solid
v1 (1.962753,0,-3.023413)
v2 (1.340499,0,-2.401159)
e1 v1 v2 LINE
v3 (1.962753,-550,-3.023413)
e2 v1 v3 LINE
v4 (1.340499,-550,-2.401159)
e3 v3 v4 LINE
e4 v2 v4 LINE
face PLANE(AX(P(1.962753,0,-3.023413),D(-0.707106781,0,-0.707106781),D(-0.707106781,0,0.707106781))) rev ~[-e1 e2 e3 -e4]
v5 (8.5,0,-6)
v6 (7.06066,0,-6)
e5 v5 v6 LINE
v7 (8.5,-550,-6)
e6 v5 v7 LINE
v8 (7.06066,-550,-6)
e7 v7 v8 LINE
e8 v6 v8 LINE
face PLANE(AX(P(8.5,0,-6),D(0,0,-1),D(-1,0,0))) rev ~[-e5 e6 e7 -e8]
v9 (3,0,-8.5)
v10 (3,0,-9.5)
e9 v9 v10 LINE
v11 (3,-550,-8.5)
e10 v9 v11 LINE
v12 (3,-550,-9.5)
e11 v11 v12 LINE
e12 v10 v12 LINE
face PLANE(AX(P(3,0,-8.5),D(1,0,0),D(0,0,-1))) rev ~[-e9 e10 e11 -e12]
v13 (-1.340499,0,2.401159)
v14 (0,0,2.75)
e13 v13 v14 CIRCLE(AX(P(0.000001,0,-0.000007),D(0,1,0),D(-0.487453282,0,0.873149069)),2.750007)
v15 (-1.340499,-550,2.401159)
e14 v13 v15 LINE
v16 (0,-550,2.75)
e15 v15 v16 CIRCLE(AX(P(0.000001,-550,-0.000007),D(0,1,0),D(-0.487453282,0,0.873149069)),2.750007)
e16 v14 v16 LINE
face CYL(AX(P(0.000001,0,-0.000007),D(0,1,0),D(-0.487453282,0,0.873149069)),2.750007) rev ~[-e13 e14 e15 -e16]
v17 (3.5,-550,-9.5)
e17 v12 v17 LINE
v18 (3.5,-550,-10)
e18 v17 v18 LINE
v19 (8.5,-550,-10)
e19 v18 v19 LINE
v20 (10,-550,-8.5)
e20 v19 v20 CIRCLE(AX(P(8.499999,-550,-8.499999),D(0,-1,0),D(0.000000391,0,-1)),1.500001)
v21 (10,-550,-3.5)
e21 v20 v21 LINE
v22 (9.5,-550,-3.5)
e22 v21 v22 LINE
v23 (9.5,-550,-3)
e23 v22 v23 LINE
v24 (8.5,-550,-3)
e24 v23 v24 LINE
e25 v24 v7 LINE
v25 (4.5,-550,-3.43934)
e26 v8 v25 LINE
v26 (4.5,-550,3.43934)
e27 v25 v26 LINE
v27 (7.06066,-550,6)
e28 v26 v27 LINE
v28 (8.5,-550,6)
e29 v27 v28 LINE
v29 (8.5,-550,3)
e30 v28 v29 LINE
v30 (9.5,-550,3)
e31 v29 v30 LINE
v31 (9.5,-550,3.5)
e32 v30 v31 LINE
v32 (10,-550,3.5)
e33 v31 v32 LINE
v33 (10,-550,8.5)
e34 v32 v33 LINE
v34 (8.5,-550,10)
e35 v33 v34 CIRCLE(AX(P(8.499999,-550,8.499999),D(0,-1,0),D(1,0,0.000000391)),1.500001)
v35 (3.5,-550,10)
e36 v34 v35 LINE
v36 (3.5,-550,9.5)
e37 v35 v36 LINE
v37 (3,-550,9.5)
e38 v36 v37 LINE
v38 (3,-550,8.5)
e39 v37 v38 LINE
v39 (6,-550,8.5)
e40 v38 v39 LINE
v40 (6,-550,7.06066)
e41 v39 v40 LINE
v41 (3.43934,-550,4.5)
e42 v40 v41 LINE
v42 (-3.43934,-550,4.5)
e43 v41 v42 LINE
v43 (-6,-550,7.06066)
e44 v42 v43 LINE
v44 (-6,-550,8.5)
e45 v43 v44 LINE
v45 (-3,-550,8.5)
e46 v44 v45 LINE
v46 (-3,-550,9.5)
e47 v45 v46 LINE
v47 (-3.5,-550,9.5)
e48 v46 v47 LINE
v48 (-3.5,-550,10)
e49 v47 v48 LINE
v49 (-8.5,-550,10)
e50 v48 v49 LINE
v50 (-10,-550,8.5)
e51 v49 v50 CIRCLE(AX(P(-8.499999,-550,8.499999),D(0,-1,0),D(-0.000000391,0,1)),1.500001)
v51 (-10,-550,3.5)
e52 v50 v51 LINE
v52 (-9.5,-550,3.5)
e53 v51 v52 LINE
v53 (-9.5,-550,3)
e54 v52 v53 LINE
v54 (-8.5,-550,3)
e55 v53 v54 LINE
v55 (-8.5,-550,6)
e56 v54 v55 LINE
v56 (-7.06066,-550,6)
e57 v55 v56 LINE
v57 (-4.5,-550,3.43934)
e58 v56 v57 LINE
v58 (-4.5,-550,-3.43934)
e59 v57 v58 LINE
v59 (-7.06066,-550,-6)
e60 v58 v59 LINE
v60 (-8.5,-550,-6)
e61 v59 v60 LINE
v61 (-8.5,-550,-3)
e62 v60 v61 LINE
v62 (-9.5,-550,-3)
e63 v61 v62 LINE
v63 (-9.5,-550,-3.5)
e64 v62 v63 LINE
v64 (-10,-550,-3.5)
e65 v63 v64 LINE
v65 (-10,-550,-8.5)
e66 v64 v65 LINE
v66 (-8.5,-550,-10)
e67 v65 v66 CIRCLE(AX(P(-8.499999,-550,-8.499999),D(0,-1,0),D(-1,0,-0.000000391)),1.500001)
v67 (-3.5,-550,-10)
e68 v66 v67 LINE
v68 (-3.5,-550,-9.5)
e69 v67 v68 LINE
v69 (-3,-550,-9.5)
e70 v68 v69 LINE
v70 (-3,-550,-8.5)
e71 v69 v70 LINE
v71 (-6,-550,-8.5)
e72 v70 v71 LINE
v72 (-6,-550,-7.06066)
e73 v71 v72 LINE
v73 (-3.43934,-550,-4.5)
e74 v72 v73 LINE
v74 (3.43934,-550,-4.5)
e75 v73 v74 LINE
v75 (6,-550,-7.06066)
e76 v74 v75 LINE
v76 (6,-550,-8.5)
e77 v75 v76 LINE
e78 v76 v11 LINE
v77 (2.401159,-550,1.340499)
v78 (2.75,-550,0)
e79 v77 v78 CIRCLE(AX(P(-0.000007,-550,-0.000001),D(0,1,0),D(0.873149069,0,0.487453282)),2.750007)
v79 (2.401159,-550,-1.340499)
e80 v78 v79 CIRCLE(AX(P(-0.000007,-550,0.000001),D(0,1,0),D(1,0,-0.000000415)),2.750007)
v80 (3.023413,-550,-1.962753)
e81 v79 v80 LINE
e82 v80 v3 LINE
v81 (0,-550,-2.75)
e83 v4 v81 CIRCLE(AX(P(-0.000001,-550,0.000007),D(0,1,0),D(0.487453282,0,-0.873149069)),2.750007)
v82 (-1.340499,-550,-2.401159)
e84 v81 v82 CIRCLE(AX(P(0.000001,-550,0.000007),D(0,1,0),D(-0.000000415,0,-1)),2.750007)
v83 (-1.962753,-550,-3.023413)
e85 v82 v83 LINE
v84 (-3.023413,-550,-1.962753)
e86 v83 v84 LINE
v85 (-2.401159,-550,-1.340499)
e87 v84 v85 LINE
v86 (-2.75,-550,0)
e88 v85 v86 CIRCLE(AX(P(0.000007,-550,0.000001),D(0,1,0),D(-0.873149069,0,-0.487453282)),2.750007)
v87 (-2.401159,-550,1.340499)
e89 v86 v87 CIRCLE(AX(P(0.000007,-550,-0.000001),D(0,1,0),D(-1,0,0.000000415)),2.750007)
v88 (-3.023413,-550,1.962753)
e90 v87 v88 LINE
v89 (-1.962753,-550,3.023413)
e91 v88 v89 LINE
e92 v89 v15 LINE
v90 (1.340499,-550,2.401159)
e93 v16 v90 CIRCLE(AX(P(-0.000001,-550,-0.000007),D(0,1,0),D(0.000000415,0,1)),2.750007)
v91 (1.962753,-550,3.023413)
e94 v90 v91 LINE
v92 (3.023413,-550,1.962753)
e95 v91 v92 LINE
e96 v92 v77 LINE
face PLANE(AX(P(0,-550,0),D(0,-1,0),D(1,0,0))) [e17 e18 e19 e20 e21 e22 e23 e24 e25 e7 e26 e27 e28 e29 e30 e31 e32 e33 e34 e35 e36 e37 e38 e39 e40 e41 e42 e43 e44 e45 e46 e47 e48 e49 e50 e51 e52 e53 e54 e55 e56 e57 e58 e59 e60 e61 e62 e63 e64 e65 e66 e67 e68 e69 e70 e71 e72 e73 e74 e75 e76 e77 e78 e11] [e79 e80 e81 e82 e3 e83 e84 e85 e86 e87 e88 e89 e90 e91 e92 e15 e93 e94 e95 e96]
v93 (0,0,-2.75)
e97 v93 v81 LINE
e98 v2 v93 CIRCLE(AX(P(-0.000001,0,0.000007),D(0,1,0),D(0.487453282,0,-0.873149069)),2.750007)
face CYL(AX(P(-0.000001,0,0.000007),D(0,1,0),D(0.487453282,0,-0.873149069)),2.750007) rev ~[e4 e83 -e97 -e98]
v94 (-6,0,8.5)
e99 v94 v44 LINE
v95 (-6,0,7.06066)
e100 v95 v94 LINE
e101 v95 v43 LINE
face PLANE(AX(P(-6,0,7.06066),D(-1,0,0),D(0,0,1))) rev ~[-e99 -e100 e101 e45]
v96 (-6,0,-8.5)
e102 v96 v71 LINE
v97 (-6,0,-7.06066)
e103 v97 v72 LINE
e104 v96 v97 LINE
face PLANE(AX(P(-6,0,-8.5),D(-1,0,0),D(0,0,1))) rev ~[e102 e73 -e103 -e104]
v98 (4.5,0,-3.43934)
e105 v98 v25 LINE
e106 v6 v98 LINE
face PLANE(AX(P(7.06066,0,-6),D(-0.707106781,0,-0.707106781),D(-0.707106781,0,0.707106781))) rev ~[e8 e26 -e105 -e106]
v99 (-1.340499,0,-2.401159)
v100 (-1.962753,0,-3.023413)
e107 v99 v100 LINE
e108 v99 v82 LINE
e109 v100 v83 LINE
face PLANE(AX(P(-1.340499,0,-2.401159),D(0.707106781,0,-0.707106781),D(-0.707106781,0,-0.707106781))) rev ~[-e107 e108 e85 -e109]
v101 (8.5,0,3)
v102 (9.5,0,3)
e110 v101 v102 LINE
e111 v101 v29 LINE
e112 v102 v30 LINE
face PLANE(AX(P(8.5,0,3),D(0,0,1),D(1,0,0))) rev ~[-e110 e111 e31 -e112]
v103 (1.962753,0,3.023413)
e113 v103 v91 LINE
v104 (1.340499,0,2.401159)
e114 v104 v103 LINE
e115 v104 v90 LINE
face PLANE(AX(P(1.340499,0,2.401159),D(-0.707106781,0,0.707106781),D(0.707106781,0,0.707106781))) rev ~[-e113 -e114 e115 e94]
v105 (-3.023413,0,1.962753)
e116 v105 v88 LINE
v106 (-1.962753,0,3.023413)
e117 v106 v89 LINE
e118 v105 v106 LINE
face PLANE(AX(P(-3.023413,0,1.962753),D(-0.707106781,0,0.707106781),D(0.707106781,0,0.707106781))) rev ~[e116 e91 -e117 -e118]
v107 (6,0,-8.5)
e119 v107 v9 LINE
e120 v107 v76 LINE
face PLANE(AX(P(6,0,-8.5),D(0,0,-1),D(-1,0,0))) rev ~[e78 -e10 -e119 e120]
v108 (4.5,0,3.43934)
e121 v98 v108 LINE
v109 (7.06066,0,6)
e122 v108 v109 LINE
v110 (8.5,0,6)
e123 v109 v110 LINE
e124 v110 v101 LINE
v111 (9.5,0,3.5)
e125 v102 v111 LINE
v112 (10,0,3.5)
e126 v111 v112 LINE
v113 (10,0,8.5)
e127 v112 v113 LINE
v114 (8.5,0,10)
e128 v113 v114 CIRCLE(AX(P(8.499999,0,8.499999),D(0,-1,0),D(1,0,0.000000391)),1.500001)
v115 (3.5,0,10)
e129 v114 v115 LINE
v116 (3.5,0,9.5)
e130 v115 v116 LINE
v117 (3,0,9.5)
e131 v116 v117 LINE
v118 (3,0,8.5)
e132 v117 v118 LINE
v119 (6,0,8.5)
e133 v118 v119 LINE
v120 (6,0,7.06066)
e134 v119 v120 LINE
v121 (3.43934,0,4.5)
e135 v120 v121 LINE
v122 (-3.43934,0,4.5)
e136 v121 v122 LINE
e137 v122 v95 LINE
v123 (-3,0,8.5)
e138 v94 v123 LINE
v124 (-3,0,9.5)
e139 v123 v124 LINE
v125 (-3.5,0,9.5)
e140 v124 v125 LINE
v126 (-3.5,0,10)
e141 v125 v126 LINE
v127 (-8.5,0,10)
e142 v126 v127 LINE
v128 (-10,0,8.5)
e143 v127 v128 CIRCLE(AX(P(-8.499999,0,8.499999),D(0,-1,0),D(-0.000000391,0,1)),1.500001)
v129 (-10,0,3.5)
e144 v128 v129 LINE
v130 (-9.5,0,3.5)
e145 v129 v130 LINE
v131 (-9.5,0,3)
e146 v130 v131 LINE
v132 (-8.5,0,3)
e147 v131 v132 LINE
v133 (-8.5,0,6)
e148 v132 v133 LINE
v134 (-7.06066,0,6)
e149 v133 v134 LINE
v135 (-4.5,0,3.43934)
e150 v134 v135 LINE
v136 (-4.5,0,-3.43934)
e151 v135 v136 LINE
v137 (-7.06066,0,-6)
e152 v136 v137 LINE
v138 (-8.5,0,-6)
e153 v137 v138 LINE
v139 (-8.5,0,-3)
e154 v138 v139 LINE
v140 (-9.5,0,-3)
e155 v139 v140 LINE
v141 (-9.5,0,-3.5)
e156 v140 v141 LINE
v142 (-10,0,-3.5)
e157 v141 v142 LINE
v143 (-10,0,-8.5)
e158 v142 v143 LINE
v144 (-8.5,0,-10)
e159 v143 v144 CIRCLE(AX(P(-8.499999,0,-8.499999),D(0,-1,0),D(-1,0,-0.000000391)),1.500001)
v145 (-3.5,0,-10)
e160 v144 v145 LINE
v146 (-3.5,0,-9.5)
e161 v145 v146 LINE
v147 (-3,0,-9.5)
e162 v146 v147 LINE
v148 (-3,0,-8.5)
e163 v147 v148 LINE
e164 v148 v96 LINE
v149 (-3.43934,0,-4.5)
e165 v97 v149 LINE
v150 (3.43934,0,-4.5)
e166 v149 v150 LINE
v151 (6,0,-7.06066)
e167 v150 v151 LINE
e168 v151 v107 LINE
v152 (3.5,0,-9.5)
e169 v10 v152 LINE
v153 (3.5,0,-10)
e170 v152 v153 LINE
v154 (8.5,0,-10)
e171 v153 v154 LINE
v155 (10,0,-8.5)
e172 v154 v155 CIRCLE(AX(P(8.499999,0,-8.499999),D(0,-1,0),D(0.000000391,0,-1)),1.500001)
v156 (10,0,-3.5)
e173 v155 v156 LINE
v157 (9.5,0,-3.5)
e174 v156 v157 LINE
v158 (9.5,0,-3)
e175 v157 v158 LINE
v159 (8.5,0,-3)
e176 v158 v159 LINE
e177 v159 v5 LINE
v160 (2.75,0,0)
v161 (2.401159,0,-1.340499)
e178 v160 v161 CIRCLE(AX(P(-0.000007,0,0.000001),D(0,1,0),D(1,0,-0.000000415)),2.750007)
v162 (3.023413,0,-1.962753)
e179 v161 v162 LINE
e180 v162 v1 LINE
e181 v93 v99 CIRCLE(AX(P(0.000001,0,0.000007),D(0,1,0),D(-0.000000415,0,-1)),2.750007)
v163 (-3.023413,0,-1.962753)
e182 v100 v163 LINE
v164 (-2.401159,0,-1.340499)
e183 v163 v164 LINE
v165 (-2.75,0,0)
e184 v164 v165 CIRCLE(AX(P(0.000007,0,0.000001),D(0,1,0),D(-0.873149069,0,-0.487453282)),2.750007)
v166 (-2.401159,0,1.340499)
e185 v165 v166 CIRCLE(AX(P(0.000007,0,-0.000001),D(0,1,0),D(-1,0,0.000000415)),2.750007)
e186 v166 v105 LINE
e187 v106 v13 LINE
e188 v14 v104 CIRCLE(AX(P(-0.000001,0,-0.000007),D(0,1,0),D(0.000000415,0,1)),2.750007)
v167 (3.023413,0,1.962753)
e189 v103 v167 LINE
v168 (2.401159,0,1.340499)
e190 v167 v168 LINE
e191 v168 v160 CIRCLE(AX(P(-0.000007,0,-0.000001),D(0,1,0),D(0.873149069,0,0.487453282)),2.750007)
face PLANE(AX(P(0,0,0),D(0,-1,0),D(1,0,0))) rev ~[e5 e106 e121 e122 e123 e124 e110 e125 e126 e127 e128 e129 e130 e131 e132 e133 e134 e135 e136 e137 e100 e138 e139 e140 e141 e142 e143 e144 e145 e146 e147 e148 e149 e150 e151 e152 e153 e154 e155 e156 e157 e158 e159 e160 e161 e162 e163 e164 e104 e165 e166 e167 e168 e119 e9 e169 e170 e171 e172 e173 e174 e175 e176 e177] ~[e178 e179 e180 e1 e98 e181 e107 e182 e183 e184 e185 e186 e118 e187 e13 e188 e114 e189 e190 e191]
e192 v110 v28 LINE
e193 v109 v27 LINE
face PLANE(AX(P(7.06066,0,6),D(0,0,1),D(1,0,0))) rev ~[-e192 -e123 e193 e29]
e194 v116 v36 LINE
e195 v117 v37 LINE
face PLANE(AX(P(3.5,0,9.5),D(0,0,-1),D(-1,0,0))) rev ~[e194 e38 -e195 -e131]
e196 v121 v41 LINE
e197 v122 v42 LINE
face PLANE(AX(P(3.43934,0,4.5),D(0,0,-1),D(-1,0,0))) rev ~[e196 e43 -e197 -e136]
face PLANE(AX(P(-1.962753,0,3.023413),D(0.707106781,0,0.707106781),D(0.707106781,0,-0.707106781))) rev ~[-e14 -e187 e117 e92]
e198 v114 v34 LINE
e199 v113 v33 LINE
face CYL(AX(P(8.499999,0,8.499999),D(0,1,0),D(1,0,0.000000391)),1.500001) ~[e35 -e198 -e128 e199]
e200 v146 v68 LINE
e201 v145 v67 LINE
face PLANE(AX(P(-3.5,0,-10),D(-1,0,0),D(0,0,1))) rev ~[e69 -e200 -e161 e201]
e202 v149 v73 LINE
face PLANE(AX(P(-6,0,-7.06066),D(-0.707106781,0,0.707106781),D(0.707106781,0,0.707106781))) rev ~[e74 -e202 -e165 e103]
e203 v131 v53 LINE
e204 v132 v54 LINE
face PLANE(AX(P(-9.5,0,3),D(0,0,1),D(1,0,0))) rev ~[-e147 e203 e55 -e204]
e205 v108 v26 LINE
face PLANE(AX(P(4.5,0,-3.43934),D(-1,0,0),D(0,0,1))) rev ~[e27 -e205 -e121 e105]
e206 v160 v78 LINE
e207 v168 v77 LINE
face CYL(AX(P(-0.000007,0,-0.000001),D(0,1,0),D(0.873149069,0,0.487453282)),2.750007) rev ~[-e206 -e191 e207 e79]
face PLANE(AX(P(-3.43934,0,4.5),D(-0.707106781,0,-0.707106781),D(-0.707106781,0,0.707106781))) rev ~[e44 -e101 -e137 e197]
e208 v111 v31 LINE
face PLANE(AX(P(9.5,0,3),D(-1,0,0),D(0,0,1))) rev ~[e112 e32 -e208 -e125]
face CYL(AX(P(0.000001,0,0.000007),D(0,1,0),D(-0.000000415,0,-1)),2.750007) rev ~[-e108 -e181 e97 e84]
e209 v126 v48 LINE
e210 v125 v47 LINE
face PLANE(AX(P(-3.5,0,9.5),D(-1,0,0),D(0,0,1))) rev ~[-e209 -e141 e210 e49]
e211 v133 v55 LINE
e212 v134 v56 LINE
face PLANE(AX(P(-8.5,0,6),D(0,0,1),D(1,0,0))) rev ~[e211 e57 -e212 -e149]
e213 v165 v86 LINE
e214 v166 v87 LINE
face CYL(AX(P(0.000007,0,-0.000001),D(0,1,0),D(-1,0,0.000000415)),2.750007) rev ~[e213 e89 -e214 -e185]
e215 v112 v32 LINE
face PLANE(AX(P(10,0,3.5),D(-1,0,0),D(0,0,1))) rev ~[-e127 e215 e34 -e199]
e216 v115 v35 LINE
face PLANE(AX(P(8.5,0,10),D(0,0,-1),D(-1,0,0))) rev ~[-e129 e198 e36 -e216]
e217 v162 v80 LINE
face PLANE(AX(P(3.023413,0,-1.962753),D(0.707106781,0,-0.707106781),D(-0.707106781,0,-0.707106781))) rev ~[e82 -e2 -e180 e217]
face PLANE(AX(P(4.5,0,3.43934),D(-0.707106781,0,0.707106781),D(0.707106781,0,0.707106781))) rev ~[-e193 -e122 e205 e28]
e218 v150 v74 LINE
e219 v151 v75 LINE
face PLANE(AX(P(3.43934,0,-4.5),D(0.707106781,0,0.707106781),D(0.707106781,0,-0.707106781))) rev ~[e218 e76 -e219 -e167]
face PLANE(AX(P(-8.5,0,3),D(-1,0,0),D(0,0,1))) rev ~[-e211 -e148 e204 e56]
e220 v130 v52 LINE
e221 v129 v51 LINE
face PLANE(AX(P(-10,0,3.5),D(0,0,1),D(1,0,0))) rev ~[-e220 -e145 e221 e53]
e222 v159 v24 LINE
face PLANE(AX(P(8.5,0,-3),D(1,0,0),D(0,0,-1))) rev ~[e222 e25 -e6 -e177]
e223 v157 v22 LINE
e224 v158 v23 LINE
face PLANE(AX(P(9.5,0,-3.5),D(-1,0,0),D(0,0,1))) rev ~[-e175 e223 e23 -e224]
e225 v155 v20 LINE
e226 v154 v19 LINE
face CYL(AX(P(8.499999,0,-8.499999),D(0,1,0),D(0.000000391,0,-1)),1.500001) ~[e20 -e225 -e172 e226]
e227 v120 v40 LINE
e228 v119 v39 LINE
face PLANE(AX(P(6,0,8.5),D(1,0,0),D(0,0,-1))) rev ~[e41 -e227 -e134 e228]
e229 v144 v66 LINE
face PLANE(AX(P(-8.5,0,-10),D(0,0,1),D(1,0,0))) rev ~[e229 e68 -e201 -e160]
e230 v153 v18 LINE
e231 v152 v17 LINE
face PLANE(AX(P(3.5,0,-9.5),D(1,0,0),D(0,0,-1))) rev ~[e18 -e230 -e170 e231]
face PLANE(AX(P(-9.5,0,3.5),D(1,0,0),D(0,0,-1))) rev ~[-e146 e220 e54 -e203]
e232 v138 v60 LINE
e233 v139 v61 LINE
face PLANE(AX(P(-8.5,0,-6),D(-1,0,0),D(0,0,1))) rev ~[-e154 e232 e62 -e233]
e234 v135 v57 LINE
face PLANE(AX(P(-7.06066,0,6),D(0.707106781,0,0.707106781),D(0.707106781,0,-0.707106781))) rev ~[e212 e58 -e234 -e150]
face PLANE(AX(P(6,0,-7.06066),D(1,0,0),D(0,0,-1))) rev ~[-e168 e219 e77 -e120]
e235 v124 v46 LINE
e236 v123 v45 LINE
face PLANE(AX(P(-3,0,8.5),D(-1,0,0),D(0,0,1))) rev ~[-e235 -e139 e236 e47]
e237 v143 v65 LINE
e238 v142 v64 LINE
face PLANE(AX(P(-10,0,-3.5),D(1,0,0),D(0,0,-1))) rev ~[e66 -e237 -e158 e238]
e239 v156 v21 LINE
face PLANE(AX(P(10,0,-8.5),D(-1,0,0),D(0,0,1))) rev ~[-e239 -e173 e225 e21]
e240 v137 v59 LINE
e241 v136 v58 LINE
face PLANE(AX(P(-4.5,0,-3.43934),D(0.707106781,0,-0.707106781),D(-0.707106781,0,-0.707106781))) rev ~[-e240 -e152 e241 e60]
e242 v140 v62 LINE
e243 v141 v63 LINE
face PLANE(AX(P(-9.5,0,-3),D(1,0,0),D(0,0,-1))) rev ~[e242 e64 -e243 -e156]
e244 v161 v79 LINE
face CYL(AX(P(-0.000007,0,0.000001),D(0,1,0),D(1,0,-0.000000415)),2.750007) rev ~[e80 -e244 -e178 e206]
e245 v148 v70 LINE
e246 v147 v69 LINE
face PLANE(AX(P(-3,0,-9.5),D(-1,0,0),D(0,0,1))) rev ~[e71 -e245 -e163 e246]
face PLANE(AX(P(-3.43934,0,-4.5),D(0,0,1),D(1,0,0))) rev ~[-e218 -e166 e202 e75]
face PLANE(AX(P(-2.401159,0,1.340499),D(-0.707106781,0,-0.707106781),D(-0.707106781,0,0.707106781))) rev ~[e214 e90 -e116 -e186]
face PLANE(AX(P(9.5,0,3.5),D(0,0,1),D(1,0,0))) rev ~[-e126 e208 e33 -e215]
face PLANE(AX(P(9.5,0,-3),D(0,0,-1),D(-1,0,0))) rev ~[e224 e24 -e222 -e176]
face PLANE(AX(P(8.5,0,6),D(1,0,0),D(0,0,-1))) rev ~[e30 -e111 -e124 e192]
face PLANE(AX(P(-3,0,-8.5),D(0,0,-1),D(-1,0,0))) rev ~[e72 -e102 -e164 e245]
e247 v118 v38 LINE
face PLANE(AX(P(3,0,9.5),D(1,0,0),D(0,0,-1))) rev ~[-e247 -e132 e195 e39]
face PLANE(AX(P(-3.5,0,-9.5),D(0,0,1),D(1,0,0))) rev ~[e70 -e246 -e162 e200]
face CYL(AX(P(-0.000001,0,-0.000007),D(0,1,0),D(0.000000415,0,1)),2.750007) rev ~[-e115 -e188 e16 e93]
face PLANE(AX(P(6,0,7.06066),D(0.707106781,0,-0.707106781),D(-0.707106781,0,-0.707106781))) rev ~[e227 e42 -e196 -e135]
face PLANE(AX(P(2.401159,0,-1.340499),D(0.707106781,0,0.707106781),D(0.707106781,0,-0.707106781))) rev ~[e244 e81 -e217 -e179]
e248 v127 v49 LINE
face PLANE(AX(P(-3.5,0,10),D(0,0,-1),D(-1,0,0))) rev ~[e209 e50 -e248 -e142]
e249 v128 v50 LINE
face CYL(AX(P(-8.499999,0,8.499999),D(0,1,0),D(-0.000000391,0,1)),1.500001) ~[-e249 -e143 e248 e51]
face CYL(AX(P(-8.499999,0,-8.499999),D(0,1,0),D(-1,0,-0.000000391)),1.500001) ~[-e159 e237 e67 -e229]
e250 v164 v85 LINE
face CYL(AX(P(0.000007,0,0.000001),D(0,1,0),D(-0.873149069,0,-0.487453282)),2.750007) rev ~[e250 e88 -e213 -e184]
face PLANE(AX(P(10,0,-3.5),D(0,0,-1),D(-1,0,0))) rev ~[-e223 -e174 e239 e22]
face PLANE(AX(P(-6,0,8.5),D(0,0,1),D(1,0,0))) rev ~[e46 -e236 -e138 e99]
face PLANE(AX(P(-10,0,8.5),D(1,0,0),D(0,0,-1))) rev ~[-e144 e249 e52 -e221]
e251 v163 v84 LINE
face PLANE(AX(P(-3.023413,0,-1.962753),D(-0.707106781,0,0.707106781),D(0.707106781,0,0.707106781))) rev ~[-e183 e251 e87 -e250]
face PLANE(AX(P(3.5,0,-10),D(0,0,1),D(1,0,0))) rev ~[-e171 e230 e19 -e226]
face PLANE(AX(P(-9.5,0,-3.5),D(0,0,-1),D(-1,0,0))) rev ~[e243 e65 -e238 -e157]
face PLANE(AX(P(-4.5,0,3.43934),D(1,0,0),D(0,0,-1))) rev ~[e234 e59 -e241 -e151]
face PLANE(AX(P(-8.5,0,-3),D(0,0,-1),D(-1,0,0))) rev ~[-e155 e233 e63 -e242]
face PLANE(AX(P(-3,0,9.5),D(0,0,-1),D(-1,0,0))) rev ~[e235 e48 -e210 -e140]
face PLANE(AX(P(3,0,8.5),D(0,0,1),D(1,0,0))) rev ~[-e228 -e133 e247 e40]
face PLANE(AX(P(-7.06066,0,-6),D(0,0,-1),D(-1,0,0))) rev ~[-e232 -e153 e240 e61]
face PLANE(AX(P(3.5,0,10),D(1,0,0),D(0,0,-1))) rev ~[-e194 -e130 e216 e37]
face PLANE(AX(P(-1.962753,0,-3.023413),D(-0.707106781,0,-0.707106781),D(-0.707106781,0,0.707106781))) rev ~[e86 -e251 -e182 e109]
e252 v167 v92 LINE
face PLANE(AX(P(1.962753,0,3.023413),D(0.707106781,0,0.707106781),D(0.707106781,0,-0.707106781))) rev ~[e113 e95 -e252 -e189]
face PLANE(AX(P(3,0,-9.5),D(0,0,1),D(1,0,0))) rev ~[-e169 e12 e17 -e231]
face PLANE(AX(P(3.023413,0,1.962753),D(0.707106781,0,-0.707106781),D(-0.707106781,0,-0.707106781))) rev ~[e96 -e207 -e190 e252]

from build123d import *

# Parameters (mm, degrees)
F1_DEPTH = 550


with BuildPart() as f1:
    # F0 (on Front) → F1 (new body)
    with BuildSketch(Plane.XZ):
        with BuildLine():
            Line((3.43934, 4.5), (0, 4.5))
            Line((0, 4.5), (-3.43934, 4.5))
            Line((-3.43934, 4.5), (-6, 7.06066))
            Line((-6, 7.06066), (-6, 8.5))
            Line((-6, 8.5), (-3, 8.5))
            Line((-3, 8.5), (-3, 9.5))
            Line((-3, 9.5), (-3.5, 9.5))
            Line((-3.5, 9.5), (-3.5, 10))
            Line((-3.5, 10), (-8.5, 10))
            ThreePointArc((-8.5, 10), (-9.56066, 9.56066), (-10, 8.5))
            Line((-10, 8.5), (-10, 3.5))
            Line((-10, 3.5), (-9.5, 3.5))
            Line((-9.5, 3.5), (-9.5, 3))
            Line((-9.5, 3), (-8.5, 3))
            Line((-8.5, 3), (-8.5, 6))
            Line((-8.5, 6), (-7.06066, 6))
            Line((-7.06066, 6), (-4.5, 3.43934))
            Line((-4.5, 3.43934), (-4.5, 0))
            Line((-4.5, 0), (-4.5, -3.43934))
            Line((-4.5, -3.43934), (-7.06066, -6))
            Line((-7.06066, -6), (-8.5, -6))
            Line((-8.5, -6), (-8.5, -3))
            Line((-8.5, -3), (-9.5, -3))
            Line((-9.5, -3), (-9.5, -3.5))
            Line((-9.5, -3.5), (-10, -3.5))
            Line((-10, -3.5), (-10, -8.5))
            ThreePointArc((-10, -8.5), (-9.56066, -9.56066), (-8.5, -10))
            Line((-8.5, -10), (-3.5, -10))
            Line((-3.5, -10), (-3.5, -9.5))
            Line((-3.5, -9.5), (-3, -9.5))
            Line((-3, -9.5), (-3, -8.5))
            Line((-3, -8.5), (-6, -8.5))
            Line((-6, -8.5), (-6, -7.06066))
            Line((-6, -7.06066), (-3.43934, -4.5))
            Line((-3.43934, -4.5), (0, -4.5))
            Line((0, -4.5), (3.43934, -4.5))
            Line((3.43934, -4.5), (6, -7.06066))
            Line((6, -7.06066), (6, -8.5))
            Line((6, -8.5), (3, -8.5))
            Line((3, -8.5), (3, -9.5))
            Line((3, -9.5), (3.5, -9.5))
            Line((3.5, -9.5), (3.5, -10))
            Line((3.5, -10), (8.5, -10))
            ThreePointArc((8.5, -10), (9.56066, -9.56066), (10, -8.5))
            Line((10, -8.5), (10, -3.5))
            Line((10, -3.5), (9.5, -3.5))
            Line((9.5, -3.5), (9.5, -3))
            Line((9.5, -3), (8.5, -3))
            Line((8.5, -3), (8.5, -6))
            Line((8.5, -6), (7.06066, -6))
            Line((7.06066, -6), (4.5, -3.43934))
            Line((4.5, -3.43934), (4.5, 0))
            Line((4.5, 0), (4.5, 3.43934))
            Line((4.5, 3.43934), (7.06066, 6))
            Line((7.06066, 6), (8.5, 6))
            Line((8.5, 6), (8.5, 3))
            Line((8.5, 3), (9.5, 3))
            Line((9.5, 3), (9.5, 3.5))
            Line((9.5, 3.5), (10, 3.5))
            Line((10, 3.5), (10, 8.5))
            ThreePointArc((10, 8.5), (9.56066, 9.56066), (8.5, 10))
            Line((8.5, 10), (3.5, 10))
            Line((3.5, 10), (3.5, 9.5))
            Line((3.5, 9.5), (3, 9.5))
            Line((3, 9.5), (3, 8.5))
            Line((3, 8.5), (6, 8.5))
            Line((6, 8.5), (6, 7.06066))
            Line((6, 7.06066), (3.43934, 4.5))
        make_face()
        with BuildLine():
            ThreePointArc((-1.340499, 2.401159), (-0.692573, 2.661361), (0, 2.75))
            ThreePointArc((0, 2.75), (0.692573, 2.661361), (1.340499, 2.401159))
            Line((1.340499, 2.401159), (1.962753, 3.023413))
            Line((1.962753, 3.023413), (3.023413, 1.962753))
            Line((3.023413, 1.962753), (2.401159, 1.340499))
            ThreePointArc((2.401159, 1.340499), (2.661361, 0.692573), (2.75, 0))
            ThreePointArc((2.75, 0), (2.661361, -0.692573), (2.401159, -1.340499))
            Line((2.401159, -1.340499), (3.023413, -1.962753))
            Line((3.023413, -1.962753), (1.962753, -3.023413))
            Line((1.962753, -3.023413), (1.340499, -2.401159))
            ThreePointArc((1.340499, -2.401159), (0.692573, -2.661361), (0, -2.75))
            ThreePointArc((0, -2.75), (-0.692573, -2.661361), (-1.340499, -2.401159))
            Line((-1.340499, -2.401159), (-1.962753, -3.023413))
            Line((-1.962753, -3.023413), (-3.023413, -1.962753))
            Line((-3.023413, -1.962753), (-2.401159, -1.340499))
            ThreePointArc((-2.401159, -1.340499), (-2.661361, -0.692573), (-2.75, 0))
            ThreePointArc((-2.75, 0), (-2.661361, 0.692573), (-2.401159, 1.340499))
            Line((-2.401159, 1.340499), (-3.023413, 1.962753))
            Line((-3.023413, 1.962753), (-1.962753, 3.023413))
            Line((-1.962753, 3.023413), (-1.340499, 2.401159))
        make_face(mode=Mode.SUBTRACT)
    extrude(amount=F1_DEPTH)


solid = f1.part
